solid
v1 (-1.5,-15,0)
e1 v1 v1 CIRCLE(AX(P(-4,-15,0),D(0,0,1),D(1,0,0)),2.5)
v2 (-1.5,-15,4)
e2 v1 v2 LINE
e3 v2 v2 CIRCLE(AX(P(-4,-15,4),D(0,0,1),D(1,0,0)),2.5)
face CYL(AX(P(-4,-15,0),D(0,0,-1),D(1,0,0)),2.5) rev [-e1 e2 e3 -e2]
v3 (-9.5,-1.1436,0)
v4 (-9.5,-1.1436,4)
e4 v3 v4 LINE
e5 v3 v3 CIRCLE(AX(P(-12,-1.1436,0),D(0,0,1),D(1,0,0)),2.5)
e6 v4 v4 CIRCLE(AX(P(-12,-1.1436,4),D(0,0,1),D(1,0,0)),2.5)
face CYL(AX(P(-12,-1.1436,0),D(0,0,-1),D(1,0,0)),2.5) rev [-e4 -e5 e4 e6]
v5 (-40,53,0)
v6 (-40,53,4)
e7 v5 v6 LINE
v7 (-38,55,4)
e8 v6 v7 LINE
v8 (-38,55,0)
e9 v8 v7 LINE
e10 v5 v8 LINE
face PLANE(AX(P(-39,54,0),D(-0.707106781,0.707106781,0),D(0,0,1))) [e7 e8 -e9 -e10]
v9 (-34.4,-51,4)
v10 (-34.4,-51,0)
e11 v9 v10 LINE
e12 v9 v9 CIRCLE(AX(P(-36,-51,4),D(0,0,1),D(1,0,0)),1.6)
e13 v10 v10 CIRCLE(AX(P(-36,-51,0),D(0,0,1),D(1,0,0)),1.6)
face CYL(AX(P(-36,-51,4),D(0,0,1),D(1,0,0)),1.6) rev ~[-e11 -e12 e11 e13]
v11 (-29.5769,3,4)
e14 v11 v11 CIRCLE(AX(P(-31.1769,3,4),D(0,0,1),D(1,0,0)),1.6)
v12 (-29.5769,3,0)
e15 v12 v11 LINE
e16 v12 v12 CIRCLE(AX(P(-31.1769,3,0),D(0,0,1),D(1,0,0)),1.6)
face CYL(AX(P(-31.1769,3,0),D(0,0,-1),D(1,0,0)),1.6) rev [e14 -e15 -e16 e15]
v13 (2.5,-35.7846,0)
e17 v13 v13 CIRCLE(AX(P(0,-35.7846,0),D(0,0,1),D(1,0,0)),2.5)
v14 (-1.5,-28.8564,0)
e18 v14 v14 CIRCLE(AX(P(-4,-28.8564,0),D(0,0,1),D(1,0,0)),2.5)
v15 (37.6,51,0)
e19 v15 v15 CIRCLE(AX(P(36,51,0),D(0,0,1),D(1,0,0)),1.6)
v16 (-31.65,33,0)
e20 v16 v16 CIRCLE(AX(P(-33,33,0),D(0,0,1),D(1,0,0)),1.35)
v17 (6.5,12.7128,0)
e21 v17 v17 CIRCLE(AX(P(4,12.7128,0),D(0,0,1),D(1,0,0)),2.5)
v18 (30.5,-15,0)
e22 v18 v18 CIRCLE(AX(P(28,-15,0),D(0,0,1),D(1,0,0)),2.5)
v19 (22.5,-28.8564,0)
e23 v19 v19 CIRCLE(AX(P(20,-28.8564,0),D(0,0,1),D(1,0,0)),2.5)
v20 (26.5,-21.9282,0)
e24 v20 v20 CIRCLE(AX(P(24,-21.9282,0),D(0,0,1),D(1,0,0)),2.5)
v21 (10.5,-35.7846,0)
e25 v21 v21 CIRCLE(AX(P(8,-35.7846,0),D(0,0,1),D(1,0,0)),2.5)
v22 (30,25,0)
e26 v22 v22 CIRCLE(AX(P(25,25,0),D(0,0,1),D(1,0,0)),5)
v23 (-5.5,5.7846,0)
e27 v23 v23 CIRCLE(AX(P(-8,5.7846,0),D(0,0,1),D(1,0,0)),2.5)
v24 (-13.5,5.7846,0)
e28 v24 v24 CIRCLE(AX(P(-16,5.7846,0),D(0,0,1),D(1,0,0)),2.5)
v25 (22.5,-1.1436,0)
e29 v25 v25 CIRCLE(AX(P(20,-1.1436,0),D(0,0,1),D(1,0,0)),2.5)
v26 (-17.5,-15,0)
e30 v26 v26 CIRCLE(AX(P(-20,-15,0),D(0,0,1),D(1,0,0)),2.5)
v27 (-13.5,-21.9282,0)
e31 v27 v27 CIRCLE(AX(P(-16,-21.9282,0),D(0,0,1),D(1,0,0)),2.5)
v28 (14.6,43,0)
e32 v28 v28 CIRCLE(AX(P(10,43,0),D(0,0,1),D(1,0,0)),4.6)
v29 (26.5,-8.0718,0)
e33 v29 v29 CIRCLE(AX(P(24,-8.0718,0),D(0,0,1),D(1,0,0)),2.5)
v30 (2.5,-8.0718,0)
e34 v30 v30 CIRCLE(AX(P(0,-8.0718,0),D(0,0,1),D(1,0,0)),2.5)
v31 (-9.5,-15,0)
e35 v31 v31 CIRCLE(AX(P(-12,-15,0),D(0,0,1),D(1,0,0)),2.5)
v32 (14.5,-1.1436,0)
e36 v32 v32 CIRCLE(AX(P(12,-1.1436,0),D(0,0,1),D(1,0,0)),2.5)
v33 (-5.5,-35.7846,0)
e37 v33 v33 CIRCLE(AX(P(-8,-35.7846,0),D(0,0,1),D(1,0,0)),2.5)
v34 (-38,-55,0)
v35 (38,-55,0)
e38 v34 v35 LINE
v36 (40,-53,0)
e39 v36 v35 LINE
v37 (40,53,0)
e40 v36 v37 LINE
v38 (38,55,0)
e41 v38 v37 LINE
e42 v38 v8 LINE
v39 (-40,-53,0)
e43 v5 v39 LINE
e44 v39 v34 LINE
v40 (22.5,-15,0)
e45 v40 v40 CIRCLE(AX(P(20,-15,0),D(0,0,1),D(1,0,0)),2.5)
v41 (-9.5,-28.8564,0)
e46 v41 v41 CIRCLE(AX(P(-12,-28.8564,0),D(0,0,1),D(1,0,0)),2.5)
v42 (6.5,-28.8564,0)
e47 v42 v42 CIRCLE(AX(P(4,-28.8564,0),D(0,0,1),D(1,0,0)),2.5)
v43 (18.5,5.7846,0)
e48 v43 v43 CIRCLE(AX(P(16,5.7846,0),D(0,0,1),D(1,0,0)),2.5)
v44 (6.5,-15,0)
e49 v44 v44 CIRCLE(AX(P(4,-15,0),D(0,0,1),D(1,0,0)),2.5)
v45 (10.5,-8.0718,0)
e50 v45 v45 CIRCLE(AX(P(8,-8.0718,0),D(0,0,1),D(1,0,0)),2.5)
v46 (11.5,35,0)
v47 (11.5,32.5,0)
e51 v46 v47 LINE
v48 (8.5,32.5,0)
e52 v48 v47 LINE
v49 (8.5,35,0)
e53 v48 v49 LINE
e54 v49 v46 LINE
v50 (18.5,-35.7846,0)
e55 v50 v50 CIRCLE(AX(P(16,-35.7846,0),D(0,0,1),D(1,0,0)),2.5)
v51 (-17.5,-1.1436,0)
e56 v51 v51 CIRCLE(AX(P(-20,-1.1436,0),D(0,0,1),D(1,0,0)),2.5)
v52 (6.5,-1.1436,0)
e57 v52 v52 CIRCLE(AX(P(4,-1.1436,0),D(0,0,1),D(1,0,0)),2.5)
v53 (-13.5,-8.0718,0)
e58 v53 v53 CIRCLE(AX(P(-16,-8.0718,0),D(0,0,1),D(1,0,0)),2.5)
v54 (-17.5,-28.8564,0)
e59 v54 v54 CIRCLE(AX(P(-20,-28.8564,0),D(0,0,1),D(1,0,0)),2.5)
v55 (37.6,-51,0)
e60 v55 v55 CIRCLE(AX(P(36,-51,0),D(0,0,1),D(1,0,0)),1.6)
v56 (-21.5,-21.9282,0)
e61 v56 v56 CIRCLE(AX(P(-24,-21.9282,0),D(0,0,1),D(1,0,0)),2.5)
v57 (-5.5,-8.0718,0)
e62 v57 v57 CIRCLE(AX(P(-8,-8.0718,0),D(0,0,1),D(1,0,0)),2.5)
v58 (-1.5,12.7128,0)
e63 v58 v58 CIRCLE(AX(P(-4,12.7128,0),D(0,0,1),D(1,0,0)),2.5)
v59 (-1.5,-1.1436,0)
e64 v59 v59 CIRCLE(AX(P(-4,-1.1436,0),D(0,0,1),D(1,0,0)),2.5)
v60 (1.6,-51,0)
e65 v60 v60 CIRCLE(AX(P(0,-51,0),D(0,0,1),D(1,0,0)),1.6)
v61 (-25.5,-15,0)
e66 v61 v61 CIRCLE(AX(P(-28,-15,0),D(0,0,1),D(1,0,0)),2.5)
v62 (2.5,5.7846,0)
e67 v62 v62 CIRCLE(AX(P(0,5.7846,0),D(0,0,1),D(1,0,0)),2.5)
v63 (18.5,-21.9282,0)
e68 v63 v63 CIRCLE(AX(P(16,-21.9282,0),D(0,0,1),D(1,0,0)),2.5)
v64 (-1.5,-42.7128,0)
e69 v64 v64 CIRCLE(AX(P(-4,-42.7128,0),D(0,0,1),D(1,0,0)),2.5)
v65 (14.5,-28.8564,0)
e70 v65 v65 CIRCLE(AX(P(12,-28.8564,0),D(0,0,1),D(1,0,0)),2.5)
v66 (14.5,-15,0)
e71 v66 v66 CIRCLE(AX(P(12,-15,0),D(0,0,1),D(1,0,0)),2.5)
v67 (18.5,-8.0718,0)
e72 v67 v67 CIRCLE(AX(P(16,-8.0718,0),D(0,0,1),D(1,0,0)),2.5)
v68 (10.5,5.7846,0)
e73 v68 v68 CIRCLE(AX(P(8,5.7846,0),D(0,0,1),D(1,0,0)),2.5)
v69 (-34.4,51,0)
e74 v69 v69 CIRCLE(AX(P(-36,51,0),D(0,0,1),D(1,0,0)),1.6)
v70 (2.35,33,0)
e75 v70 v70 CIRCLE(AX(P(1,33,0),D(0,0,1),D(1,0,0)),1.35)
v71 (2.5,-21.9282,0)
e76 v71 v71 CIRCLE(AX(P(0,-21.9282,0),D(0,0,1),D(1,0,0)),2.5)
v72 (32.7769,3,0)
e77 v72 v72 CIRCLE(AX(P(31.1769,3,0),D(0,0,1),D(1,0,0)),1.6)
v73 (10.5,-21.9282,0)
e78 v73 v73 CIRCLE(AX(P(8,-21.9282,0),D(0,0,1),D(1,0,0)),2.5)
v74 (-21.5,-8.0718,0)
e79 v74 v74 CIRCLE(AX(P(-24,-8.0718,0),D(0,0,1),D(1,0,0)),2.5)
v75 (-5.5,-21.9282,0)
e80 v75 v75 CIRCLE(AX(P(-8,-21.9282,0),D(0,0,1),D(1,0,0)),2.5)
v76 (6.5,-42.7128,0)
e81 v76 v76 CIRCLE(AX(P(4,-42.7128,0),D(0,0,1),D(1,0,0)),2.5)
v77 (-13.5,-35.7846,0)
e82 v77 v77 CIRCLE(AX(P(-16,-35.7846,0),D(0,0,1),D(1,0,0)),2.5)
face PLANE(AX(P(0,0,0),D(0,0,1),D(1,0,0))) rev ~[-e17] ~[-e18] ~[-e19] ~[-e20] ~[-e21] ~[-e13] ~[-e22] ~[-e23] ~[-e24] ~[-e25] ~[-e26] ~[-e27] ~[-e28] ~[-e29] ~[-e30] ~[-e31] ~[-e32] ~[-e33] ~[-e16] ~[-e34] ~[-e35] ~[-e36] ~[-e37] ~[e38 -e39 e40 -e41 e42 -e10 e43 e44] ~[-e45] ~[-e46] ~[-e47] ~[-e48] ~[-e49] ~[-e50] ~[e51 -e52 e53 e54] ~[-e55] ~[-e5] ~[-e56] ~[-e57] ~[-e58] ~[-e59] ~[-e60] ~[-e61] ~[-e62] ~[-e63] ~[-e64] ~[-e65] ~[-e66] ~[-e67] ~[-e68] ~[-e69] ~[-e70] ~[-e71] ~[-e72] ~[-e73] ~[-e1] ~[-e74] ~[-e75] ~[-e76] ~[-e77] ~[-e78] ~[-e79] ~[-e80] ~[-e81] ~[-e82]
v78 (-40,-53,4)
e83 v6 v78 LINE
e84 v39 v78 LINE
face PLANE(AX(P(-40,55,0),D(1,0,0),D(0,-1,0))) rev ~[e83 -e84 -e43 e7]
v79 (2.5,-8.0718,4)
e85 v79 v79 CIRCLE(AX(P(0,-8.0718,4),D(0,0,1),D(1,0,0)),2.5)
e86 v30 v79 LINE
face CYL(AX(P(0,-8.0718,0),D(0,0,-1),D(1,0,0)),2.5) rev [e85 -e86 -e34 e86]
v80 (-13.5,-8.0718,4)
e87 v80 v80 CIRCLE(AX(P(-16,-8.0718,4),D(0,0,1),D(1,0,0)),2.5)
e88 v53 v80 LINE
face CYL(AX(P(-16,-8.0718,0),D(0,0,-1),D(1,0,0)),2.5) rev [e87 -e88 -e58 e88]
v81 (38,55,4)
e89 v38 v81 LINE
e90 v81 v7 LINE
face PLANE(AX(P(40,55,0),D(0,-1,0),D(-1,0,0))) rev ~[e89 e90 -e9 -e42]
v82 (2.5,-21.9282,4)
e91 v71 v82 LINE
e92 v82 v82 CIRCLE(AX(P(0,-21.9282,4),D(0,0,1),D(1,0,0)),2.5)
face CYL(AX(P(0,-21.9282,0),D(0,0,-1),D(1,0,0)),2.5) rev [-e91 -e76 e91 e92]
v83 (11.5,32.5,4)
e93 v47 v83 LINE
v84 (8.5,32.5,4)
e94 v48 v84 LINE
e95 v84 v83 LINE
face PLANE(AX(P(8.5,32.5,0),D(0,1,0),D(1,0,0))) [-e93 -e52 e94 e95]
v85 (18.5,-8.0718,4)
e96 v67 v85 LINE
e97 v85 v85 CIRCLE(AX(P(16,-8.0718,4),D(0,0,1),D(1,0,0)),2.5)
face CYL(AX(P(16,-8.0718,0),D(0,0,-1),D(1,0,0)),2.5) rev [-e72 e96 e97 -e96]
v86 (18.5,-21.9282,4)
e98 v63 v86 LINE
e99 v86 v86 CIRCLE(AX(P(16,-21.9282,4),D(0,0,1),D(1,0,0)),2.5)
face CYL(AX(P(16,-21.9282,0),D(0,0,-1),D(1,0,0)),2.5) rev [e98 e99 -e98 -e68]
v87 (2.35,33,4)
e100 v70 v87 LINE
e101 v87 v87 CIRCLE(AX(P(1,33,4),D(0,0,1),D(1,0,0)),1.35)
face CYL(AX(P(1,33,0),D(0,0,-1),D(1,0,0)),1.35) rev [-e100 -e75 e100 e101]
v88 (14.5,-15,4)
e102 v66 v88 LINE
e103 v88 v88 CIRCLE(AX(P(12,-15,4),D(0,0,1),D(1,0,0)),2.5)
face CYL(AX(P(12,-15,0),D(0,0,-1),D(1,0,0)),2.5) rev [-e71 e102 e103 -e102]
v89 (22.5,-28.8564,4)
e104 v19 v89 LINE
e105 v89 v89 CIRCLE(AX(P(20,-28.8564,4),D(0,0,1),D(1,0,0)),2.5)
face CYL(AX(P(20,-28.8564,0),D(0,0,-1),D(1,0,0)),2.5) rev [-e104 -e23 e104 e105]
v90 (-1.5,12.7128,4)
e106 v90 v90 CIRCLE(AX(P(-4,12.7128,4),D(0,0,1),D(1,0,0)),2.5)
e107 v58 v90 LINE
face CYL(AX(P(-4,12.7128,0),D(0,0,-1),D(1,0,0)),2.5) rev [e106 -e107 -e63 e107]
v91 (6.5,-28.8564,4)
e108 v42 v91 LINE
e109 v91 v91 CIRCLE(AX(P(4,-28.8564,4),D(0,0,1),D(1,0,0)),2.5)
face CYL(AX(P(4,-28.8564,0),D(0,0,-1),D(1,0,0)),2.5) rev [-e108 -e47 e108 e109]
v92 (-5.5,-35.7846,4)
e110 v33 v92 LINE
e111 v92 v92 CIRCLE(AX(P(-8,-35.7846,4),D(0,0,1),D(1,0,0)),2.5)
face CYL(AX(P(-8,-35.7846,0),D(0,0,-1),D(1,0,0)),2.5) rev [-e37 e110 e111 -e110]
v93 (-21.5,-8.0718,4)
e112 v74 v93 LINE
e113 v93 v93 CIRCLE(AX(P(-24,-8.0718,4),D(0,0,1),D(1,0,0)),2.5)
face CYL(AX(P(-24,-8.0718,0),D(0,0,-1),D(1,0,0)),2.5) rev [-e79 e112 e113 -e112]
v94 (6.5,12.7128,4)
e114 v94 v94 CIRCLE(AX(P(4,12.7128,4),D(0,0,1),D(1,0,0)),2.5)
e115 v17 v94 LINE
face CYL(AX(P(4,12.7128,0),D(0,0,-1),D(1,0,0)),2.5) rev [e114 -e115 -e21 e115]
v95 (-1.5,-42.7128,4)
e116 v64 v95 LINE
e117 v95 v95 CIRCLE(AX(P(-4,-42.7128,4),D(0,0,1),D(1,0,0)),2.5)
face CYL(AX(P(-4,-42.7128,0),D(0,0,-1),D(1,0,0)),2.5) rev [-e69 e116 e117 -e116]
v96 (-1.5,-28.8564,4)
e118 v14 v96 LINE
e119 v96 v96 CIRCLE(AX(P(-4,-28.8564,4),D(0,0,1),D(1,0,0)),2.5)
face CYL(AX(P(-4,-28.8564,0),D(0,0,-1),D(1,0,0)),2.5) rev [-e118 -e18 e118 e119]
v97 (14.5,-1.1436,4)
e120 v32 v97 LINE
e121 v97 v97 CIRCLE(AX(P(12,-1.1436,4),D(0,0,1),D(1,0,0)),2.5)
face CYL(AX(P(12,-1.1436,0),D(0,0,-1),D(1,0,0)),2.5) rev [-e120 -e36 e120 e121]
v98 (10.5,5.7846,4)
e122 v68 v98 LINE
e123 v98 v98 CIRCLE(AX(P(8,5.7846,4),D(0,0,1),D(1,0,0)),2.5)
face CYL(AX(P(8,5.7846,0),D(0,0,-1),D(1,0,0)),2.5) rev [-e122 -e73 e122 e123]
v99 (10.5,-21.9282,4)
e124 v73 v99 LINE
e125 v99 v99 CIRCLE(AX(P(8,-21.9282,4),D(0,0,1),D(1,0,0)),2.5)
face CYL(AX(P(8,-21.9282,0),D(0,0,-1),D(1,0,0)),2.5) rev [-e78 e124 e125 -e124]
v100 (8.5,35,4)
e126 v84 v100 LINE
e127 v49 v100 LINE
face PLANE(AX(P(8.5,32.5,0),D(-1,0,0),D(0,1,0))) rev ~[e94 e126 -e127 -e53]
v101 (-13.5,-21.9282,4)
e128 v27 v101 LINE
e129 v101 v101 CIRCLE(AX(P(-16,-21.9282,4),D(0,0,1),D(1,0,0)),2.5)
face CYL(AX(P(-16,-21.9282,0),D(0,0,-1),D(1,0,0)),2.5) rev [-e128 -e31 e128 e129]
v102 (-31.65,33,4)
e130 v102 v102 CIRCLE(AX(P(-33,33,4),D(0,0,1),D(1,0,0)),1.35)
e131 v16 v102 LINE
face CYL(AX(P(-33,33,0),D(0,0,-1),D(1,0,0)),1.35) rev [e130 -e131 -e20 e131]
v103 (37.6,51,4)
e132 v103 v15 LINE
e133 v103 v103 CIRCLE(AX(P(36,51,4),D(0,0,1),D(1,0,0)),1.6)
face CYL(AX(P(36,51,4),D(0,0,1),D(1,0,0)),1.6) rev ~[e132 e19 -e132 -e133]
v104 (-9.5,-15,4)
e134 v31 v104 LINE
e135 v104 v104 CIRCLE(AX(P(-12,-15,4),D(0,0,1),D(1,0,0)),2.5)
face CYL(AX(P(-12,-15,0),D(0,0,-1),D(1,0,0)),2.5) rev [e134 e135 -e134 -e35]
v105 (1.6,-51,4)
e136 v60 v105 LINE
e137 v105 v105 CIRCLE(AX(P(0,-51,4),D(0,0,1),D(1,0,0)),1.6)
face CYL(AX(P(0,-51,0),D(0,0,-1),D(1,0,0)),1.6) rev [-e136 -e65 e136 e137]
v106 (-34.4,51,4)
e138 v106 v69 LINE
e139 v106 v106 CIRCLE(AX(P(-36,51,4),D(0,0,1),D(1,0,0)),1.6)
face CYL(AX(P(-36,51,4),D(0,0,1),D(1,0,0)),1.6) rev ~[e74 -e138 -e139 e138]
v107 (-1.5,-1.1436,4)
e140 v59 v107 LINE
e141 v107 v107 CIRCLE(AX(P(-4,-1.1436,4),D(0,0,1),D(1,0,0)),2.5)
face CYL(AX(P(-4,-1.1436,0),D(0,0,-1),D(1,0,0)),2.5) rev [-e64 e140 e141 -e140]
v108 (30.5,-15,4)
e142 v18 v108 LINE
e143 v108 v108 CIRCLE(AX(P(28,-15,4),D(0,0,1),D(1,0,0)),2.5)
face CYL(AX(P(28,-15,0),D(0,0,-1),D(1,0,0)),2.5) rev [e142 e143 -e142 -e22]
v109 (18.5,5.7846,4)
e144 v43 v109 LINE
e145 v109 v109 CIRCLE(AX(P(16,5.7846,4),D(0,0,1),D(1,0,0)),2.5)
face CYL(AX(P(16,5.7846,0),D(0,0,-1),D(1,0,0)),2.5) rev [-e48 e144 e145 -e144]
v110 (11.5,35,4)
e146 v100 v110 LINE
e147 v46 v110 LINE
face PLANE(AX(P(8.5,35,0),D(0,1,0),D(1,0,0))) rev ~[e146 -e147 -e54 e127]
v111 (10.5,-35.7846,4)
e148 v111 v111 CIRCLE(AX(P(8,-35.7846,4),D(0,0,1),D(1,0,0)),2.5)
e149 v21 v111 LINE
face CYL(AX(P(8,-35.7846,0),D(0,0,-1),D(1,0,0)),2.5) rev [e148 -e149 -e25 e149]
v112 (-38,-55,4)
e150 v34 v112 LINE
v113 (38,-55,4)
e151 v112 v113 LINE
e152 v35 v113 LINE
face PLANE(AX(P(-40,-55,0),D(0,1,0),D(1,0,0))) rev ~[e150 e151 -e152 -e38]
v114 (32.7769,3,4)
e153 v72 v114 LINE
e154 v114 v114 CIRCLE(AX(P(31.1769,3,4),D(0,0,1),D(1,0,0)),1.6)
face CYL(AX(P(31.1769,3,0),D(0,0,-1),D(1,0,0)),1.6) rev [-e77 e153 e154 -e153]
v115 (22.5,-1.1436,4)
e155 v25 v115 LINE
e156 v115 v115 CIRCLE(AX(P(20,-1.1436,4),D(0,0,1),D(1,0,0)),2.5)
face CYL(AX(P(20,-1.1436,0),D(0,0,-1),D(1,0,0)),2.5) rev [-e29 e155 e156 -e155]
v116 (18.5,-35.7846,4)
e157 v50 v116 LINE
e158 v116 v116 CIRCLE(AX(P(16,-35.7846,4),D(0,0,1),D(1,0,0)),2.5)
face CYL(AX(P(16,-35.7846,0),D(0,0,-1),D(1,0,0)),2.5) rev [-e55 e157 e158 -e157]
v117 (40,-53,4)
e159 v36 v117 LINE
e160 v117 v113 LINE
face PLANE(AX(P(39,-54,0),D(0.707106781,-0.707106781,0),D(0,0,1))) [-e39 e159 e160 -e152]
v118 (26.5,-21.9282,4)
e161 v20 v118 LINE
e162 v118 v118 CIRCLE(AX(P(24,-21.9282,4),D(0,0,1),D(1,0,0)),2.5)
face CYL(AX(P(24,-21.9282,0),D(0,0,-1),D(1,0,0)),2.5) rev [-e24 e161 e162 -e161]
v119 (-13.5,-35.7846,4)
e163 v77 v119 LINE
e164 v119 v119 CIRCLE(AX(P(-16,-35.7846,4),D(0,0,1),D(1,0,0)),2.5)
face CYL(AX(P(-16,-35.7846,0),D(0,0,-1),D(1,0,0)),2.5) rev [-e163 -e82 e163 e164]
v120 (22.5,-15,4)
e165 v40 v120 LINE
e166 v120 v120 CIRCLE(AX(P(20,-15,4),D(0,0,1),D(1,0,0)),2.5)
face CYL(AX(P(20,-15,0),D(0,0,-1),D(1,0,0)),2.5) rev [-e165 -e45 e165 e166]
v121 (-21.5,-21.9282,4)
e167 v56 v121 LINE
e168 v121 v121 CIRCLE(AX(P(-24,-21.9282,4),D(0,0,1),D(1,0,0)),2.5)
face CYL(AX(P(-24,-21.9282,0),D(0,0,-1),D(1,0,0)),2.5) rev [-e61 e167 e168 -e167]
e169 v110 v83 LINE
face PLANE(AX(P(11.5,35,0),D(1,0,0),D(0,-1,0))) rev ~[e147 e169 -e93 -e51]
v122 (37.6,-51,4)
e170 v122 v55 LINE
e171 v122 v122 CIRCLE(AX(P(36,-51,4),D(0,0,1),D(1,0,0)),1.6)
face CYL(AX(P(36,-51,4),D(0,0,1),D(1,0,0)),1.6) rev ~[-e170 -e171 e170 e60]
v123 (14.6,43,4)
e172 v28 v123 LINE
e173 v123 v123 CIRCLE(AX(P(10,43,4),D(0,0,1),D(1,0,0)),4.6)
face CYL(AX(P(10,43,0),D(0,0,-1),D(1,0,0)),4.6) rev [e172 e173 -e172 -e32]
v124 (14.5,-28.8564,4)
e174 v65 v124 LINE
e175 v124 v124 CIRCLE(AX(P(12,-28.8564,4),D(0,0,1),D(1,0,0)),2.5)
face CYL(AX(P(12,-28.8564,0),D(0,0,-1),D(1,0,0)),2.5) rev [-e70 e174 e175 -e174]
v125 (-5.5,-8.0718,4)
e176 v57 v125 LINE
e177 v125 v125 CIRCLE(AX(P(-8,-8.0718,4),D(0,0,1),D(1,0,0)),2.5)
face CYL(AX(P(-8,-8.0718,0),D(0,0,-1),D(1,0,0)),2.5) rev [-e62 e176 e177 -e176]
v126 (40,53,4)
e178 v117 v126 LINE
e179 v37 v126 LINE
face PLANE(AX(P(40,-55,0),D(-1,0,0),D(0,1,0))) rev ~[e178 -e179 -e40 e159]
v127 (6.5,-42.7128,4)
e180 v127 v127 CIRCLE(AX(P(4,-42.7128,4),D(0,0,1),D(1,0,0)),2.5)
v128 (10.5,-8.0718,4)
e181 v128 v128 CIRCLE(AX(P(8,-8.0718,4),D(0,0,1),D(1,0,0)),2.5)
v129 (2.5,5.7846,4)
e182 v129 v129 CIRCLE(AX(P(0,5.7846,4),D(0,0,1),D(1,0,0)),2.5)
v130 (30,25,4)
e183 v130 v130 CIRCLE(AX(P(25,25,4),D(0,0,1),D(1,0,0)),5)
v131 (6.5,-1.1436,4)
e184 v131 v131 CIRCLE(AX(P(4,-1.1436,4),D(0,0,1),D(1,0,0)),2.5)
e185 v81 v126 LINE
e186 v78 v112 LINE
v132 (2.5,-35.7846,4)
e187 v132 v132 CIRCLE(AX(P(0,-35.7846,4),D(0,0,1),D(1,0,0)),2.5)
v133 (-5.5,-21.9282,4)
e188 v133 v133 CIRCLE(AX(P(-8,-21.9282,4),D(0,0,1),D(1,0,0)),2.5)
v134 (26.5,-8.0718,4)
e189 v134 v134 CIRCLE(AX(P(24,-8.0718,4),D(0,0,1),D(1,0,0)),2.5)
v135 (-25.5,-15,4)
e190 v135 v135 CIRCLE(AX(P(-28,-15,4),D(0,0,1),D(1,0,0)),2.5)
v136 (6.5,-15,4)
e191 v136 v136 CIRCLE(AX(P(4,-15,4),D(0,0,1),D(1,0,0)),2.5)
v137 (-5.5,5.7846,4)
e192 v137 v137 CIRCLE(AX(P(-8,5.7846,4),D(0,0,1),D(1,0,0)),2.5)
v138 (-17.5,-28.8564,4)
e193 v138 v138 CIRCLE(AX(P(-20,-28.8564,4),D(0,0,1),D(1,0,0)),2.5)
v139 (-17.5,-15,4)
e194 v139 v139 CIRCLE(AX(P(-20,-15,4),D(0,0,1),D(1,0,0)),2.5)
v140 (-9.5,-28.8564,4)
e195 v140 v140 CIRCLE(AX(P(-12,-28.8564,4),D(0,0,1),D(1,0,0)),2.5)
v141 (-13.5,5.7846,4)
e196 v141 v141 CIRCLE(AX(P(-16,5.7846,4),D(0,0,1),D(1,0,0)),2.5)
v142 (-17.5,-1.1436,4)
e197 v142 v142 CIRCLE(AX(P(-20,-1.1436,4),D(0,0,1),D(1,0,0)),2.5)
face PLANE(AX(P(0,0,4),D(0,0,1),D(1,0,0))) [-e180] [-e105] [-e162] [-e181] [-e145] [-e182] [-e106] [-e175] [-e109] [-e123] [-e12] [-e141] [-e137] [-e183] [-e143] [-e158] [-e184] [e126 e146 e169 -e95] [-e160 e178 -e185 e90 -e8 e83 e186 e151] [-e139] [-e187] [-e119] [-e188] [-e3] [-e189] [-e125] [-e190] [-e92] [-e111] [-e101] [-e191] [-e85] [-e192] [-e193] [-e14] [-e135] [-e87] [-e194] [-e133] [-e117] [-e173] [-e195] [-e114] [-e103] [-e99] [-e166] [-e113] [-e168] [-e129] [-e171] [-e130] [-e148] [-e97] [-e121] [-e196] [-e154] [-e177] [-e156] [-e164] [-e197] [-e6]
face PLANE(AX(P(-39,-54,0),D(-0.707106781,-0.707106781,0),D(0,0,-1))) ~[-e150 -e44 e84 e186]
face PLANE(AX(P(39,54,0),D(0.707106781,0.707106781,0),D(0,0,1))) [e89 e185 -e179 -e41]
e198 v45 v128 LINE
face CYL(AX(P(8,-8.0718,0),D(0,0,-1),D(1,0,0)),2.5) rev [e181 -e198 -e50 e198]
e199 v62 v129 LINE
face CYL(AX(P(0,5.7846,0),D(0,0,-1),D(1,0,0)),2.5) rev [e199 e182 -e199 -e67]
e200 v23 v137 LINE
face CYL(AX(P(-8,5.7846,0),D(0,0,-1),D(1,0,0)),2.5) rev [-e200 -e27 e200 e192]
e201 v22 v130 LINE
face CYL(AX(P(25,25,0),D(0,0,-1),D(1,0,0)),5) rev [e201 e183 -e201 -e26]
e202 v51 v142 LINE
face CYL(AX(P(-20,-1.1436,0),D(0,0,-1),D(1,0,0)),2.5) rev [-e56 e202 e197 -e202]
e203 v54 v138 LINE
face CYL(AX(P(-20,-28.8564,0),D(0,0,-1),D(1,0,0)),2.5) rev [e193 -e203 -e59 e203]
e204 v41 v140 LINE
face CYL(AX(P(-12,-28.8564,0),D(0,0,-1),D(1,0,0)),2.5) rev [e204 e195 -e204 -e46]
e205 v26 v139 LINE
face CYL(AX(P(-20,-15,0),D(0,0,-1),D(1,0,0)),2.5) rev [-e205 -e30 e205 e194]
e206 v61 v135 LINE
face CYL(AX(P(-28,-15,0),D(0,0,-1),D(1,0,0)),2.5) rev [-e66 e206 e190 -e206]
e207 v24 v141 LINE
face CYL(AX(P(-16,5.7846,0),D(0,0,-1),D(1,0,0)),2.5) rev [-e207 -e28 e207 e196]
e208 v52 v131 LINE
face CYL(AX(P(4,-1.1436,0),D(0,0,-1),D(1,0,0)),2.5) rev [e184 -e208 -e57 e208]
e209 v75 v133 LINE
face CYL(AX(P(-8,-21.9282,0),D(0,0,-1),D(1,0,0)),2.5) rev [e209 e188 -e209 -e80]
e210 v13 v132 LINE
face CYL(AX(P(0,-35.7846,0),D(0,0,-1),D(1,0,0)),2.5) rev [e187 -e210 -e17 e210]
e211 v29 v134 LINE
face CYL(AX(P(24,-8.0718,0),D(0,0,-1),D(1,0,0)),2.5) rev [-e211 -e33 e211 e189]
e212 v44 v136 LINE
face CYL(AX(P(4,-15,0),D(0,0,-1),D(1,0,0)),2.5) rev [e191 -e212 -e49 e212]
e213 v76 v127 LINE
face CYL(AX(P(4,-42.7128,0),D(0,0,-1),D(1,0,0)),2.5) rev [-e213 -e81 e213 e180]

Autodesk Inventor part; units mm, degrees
ref_plane "YZ Plane" through (0, 0, 0) normal (1, 0, 0) x (0, 1, 0)
ref_plane "XZ Plane" through (0, 0, 0) normal (0, 1, 0) x (-1, 0, 0)
ref_plane "XY Plane" through (0, 0, 0) normal (0, 0, 1) x (1, 0, 0)
sketch "スケッチ1" plane through (0, 0, 0) normal (0, 0, 1) x (1, 0, 0)
  line L0 (-40, -55) -> (40, -55)
  line L1 (40, -55) -> (40, 55)
  line L2 (40, 55) -> (-40, 55)
  line L3 (-40, 55) -> (-40, -55)
  line L4 (-40, -55) -> (40, 55) construction
  line L5 (40, -55) -> (-40, 55) construction
  circle A0 centre (10, 43) radius 4.6
  circle A1 centre (25, 25) radius 5
  circle A2 centre (25, 25) radius 12.5 construction
  circle A3 centre (10, 43) radius 8.25 construction
  line L6 (0, -77) -> (0, 77) construction
  circle A4 centre (0, -15) radius 32.75 construction
  line L7 (-36, 20) -> (4, 20) construction
  line L8 (4, 20) -> (4, 36) construction
  line L9 (4, 36) -> (-36, 36) construction
  line L10 (-36, 36) -> (-36, 20) construction
  line L11 (-36, 20) -> (4, 36) construction
  line L12 (4, 20) -> (-36, 36) construction
  line L13 (13.4369, 50.5) -> (21.75, 50.5) construction
  line L14 (21.75, 50.5) -> (21.75, 35.5) construction
  line L15 (21.75, 35.5) -> (13.4369, 35.5) construction
  line L16 (8.5, 32.5) -> (8.5, 35)
  line L17 (8.5, 35) -> (11.5, 35)
  line L18 (11.5, 35) -> (11.5, 32.5)
  line L19 (8.5, 32.5) -> (11.5, 32.5)
  line L20 (8.5, 35) -> (11.5, 32.5) construction
  line L21 (11.5, 35) -> (8.5, 32.5) construction
  line L22 (0, -15) -> (28.3623, 1.375) construction
  line L23 (0, -15) -> (-28.3623, 1.375) construction
  circle A5 centre (0, -15) radius 36 construction
  circle A6 centre (31.1769, 3) radius 1.6
  circle A7 centre (-31.1769, 3) radius 1.6
  circle A8 centre (0, -51) radius 1.6
  line L24 (-32.75, -15) -> (32.75, -15) construction
  circle A9 centre (-4, -15) radius 2.5
  circle A10 centre (0, -8.0718) radius 2.5
  circle A11 centre (4, -15) radius 2.5
  circle A12 centre (8, -8.0718) radius 2.5
  circle A13 centre (-12, -15) radius 2.5
  circle A14 centre (-8, -8.0718) radius 2.5
  circle A15 centre (12, -15) radius 2.5
  circle A16 centre (16, -8.0718) radius 2.5
  circle A17 centre (-20, -15) radius 2.5
  circle A18 centre (-16, -8.0718) radius 2.5
  circle A19 centre (20, -15) radius 2.5
  circle A20 centre (24, -8.0718) radius 2.5
  circle A21 centre (-4, -1.1436) radius 2.5
  circle A22 centre (0, 5.7846) radius 2.5
  circle A23 centre (4, -1.1436) radius 2.5
  circle A24 centre (8, 5.7846) radius 2.5
  circle A25 centre (-12, -1.1436) radius 2.5
  circle A26 centre (-8, 5.7846) radius 2.5
  circle A27 centre (12, -1.1436) radius 2.5
  circle A28 centre (16, 5.7846) radius 2.5
  circle A29 centre (-20, -1.1436) radius 2.5
  circle A30 centre (-16, 5.7846) radius 2.5
  circle A31 centre (20, -1.1436) radius 2.5
  circle A32 centre (24, 5.7846) radius 2.5 construction
  circle A33 centre (-4, -28.8564) radius 2.5
  circle A34 centre (0, -21.9282) radius 2.5
  circle A35 centre (4, -28.8564) radius 2.5
  circle A36 centre (8, -21.9282) radius 2.5
  circle A37 centre (-12, -28.8564) radius 2.5
  circle A38 centre (-8, -21.9282) radius 2.5
  circle A39 centre (12, -28.8564) radius 2.5
  circle A40 centre (16, -21.9282) radius 2.5
  circle A41 centre (-20, -28.8564) radius 2.5
  circle A42 centre (-16, -21.9282) radius 2.5
  circle A43 centre (20, -28.8564) radius 2.5
  circle A44 centre (24, -21.9282) radius 2.5
  circle A45 centre (-4, 12.7128) radius 2.5
  circle A46 centre (0, 19.641) radius 2.5 construction
  circle A47 centre (4, 12.7128) radius 2.5
  circle A48 centre (8, 19.641) radius 2.5 construction
  circle A49 centre (-12, 12.7128) radius 2.5 construction
  circle A50 centre (-8, 19.641) radius 2.5 construction
  circle A51 centre (12, 12.7128) radius 2.5 construction
  circle A52 centre (16, 19.641) radius 2.5 construction
  circle A53 centre (-20, 12.7128) radius 2.5 construction
  circle A54 centre (-16, 19.641) radius 2.5 construction
  circle A55 centre (20, 12.7128) radius 2.5 construction
  circle A56 centre (24, 19.641) radius 2.5 construction
  circle A57 centre (-4, -42.7128) radius 2.5
  circle A58 centre (0, -35.7846) radius 2.5
  circle A59 centre (4, -42.7128) radius 2.5
  circle A60 centre (8, -35.7846) radius 2.5
  circle A61 centre (-12, -42.7128) radius 2.5 construction
  circle A62 centre (-8, -35.7846) radius 2.5
  circle A63 centre (12, -42.7128) radius 2.5 construction
  circle A64 centre (16, -35.7846) radius 2.5
  circle A65 centre (-20, -42.7128) radius 2.5 construction
  circle A66 centre (-16, -35.7846) radius 2.5
  circle A67 centre (20, -42.7128) radius 2.5 construction
  circle A68 centre (24, -35.7846) radius 2.5 construction
  circle A69 centre (0, -15) radius 30 construction
  circle A70 centre (-28, -15) radius 2.5
  circle A71 centre (-24, -8.0718) radius 2.5
  circle A72 centre (-28, -1.1436) radius 2.5 construction
  circle A73 centre (-24, 5.7846) radius 2.5 construction
  circle A74 centre (-28, -28.8564) radius 2.5 construction
  circle A75 centre (-24, -21.9282) radius 2.5
  circle A76 centre (-28, 12.7128) radius 2.5 construction
  circle A77 centre (-24, 19.641) radius 2.5 construction
  circle A78 centre (-28, -42.7128) radius 2.5 construction
  circle A79 centre (-24, -35.7846) radius 2.5 construction
  circle A80 centre (28, -15) radius 2.5
  circle A81 centre (32, -8.0718) radius 2.5 construction
  circle A82 centre (28, -1.1436) radius 2.5 construction
  circle A83 centre (32, 5.7846) radius 2.5 construction
  circle A84 centre (28, -28.8564) radius 2.5 construction
  circle A85 centre (32, -21.9282) radius 2.5 construction
  circle A86 centre (28, 12.7128) radius 2.5 construction
  circle A87 centre (32, 19.641) radius 2.5 construction
  circle A88 centre (28, -42.7128) radius 2.5 construction
  circle A89 centre (32, -35.7846) radius 2.5 construction
  circle A90 centre (-33, 33) radius 1.35
  circle A91 centre (1, 33) radius 1.35
  point P0 (0, 0)
  point P1 (-16, 28)
  point P2 (10, 33.75)
  point P3 (10, 33.75)
  dimension "d32" = 72
  dimension "d0" = 110
  dimension "d1" = 80
  dimension "d2" = 12
  dimension "d3" = 9.2
  dimension "d5" = 30
  dimension "d6" = 15
  dimension "d7" = 30
  dimension "d8" = 25
  dimension "d9" = 10
  dimension "d10" = 25
  dimension "d11" = 16.5
  dimension "d12" = 65.5
  dimension "d15" = 15
  dimension "d16" = 40
  dimension "d17" = 16
  dimension "d19" = 4
  dimension "d20" = 35
  dimension "d21" = 40
  dimension "d22" = 58
  dimension "d23" = 15
  dimension "d24" = 11.75
  dimension "d27" = 3
  dimension "d29" = 8
  dimension "d30" = 2.5
  dimension "d31" = 120
  dimension "d33" = 3.2
  dimension "d36" = 360
  dimension "d38" = 5
  dimension "d39" = 8
  dimension "d43" = 8
  dimension "d46" = 13.8564
  dimension "d49" = 8
  dimension "d50" = 60
  dimension "d51" = 2.7
  dimension "d52" = 3
  dimension "d53" = 3
  dimension "d54" = 3
  dimension "d55" = 3
  dimension "d61" = 10
extrude "押し出し1" add sketch "スケッチ1" along normal blind 4
chamfer "面取り1" distance 2 angle 45 4 edges at (40, 55, 2) (-40, 55, 2) (-40, -55, 2) (40, -55, 2)
sketch "スケッチ2" plane through (0, 0, 4) normal (0, 0, 1) x (1, 0, 0)
  line L0 (36, -51) -> (-36, -51) construction
  line L1 (-36, -51) -> (-36, 51) construction
  line L2 (-36, 51) -> (36, 51) construction
  line L3 (36, 51) -> (36, -51) construction
  line L4 (36, -51) -> (-36, 51) construction
  line L5 (-36, -51) -> (36, 51) construction
  circle A0 centre (-36, 51) radius 1.6
  circle A1 centre (36, 51) radius 1.6
  circle A2 centre (-36, -51) radius 1.6
  circle A3 centre (36, -51) radius 1.6
  line L6 (-40, 53) -> (-40, -53) construction
  line L7 (38, 55) -> (-38, 55) construction
  point P0 (0, 0)
  dimension "d62" = 3.2
  dimension "d63" = 4
  dimension "d64" = 4
extrude "押し出し2" cut sketch "スケッチ2" against normal through all
equation "\"d39\" = d43"
equation "\"d49\" = d43"
equation "\"d64\" = d63"
properties part number "front_pannel" material "PMMA プラスチック"
